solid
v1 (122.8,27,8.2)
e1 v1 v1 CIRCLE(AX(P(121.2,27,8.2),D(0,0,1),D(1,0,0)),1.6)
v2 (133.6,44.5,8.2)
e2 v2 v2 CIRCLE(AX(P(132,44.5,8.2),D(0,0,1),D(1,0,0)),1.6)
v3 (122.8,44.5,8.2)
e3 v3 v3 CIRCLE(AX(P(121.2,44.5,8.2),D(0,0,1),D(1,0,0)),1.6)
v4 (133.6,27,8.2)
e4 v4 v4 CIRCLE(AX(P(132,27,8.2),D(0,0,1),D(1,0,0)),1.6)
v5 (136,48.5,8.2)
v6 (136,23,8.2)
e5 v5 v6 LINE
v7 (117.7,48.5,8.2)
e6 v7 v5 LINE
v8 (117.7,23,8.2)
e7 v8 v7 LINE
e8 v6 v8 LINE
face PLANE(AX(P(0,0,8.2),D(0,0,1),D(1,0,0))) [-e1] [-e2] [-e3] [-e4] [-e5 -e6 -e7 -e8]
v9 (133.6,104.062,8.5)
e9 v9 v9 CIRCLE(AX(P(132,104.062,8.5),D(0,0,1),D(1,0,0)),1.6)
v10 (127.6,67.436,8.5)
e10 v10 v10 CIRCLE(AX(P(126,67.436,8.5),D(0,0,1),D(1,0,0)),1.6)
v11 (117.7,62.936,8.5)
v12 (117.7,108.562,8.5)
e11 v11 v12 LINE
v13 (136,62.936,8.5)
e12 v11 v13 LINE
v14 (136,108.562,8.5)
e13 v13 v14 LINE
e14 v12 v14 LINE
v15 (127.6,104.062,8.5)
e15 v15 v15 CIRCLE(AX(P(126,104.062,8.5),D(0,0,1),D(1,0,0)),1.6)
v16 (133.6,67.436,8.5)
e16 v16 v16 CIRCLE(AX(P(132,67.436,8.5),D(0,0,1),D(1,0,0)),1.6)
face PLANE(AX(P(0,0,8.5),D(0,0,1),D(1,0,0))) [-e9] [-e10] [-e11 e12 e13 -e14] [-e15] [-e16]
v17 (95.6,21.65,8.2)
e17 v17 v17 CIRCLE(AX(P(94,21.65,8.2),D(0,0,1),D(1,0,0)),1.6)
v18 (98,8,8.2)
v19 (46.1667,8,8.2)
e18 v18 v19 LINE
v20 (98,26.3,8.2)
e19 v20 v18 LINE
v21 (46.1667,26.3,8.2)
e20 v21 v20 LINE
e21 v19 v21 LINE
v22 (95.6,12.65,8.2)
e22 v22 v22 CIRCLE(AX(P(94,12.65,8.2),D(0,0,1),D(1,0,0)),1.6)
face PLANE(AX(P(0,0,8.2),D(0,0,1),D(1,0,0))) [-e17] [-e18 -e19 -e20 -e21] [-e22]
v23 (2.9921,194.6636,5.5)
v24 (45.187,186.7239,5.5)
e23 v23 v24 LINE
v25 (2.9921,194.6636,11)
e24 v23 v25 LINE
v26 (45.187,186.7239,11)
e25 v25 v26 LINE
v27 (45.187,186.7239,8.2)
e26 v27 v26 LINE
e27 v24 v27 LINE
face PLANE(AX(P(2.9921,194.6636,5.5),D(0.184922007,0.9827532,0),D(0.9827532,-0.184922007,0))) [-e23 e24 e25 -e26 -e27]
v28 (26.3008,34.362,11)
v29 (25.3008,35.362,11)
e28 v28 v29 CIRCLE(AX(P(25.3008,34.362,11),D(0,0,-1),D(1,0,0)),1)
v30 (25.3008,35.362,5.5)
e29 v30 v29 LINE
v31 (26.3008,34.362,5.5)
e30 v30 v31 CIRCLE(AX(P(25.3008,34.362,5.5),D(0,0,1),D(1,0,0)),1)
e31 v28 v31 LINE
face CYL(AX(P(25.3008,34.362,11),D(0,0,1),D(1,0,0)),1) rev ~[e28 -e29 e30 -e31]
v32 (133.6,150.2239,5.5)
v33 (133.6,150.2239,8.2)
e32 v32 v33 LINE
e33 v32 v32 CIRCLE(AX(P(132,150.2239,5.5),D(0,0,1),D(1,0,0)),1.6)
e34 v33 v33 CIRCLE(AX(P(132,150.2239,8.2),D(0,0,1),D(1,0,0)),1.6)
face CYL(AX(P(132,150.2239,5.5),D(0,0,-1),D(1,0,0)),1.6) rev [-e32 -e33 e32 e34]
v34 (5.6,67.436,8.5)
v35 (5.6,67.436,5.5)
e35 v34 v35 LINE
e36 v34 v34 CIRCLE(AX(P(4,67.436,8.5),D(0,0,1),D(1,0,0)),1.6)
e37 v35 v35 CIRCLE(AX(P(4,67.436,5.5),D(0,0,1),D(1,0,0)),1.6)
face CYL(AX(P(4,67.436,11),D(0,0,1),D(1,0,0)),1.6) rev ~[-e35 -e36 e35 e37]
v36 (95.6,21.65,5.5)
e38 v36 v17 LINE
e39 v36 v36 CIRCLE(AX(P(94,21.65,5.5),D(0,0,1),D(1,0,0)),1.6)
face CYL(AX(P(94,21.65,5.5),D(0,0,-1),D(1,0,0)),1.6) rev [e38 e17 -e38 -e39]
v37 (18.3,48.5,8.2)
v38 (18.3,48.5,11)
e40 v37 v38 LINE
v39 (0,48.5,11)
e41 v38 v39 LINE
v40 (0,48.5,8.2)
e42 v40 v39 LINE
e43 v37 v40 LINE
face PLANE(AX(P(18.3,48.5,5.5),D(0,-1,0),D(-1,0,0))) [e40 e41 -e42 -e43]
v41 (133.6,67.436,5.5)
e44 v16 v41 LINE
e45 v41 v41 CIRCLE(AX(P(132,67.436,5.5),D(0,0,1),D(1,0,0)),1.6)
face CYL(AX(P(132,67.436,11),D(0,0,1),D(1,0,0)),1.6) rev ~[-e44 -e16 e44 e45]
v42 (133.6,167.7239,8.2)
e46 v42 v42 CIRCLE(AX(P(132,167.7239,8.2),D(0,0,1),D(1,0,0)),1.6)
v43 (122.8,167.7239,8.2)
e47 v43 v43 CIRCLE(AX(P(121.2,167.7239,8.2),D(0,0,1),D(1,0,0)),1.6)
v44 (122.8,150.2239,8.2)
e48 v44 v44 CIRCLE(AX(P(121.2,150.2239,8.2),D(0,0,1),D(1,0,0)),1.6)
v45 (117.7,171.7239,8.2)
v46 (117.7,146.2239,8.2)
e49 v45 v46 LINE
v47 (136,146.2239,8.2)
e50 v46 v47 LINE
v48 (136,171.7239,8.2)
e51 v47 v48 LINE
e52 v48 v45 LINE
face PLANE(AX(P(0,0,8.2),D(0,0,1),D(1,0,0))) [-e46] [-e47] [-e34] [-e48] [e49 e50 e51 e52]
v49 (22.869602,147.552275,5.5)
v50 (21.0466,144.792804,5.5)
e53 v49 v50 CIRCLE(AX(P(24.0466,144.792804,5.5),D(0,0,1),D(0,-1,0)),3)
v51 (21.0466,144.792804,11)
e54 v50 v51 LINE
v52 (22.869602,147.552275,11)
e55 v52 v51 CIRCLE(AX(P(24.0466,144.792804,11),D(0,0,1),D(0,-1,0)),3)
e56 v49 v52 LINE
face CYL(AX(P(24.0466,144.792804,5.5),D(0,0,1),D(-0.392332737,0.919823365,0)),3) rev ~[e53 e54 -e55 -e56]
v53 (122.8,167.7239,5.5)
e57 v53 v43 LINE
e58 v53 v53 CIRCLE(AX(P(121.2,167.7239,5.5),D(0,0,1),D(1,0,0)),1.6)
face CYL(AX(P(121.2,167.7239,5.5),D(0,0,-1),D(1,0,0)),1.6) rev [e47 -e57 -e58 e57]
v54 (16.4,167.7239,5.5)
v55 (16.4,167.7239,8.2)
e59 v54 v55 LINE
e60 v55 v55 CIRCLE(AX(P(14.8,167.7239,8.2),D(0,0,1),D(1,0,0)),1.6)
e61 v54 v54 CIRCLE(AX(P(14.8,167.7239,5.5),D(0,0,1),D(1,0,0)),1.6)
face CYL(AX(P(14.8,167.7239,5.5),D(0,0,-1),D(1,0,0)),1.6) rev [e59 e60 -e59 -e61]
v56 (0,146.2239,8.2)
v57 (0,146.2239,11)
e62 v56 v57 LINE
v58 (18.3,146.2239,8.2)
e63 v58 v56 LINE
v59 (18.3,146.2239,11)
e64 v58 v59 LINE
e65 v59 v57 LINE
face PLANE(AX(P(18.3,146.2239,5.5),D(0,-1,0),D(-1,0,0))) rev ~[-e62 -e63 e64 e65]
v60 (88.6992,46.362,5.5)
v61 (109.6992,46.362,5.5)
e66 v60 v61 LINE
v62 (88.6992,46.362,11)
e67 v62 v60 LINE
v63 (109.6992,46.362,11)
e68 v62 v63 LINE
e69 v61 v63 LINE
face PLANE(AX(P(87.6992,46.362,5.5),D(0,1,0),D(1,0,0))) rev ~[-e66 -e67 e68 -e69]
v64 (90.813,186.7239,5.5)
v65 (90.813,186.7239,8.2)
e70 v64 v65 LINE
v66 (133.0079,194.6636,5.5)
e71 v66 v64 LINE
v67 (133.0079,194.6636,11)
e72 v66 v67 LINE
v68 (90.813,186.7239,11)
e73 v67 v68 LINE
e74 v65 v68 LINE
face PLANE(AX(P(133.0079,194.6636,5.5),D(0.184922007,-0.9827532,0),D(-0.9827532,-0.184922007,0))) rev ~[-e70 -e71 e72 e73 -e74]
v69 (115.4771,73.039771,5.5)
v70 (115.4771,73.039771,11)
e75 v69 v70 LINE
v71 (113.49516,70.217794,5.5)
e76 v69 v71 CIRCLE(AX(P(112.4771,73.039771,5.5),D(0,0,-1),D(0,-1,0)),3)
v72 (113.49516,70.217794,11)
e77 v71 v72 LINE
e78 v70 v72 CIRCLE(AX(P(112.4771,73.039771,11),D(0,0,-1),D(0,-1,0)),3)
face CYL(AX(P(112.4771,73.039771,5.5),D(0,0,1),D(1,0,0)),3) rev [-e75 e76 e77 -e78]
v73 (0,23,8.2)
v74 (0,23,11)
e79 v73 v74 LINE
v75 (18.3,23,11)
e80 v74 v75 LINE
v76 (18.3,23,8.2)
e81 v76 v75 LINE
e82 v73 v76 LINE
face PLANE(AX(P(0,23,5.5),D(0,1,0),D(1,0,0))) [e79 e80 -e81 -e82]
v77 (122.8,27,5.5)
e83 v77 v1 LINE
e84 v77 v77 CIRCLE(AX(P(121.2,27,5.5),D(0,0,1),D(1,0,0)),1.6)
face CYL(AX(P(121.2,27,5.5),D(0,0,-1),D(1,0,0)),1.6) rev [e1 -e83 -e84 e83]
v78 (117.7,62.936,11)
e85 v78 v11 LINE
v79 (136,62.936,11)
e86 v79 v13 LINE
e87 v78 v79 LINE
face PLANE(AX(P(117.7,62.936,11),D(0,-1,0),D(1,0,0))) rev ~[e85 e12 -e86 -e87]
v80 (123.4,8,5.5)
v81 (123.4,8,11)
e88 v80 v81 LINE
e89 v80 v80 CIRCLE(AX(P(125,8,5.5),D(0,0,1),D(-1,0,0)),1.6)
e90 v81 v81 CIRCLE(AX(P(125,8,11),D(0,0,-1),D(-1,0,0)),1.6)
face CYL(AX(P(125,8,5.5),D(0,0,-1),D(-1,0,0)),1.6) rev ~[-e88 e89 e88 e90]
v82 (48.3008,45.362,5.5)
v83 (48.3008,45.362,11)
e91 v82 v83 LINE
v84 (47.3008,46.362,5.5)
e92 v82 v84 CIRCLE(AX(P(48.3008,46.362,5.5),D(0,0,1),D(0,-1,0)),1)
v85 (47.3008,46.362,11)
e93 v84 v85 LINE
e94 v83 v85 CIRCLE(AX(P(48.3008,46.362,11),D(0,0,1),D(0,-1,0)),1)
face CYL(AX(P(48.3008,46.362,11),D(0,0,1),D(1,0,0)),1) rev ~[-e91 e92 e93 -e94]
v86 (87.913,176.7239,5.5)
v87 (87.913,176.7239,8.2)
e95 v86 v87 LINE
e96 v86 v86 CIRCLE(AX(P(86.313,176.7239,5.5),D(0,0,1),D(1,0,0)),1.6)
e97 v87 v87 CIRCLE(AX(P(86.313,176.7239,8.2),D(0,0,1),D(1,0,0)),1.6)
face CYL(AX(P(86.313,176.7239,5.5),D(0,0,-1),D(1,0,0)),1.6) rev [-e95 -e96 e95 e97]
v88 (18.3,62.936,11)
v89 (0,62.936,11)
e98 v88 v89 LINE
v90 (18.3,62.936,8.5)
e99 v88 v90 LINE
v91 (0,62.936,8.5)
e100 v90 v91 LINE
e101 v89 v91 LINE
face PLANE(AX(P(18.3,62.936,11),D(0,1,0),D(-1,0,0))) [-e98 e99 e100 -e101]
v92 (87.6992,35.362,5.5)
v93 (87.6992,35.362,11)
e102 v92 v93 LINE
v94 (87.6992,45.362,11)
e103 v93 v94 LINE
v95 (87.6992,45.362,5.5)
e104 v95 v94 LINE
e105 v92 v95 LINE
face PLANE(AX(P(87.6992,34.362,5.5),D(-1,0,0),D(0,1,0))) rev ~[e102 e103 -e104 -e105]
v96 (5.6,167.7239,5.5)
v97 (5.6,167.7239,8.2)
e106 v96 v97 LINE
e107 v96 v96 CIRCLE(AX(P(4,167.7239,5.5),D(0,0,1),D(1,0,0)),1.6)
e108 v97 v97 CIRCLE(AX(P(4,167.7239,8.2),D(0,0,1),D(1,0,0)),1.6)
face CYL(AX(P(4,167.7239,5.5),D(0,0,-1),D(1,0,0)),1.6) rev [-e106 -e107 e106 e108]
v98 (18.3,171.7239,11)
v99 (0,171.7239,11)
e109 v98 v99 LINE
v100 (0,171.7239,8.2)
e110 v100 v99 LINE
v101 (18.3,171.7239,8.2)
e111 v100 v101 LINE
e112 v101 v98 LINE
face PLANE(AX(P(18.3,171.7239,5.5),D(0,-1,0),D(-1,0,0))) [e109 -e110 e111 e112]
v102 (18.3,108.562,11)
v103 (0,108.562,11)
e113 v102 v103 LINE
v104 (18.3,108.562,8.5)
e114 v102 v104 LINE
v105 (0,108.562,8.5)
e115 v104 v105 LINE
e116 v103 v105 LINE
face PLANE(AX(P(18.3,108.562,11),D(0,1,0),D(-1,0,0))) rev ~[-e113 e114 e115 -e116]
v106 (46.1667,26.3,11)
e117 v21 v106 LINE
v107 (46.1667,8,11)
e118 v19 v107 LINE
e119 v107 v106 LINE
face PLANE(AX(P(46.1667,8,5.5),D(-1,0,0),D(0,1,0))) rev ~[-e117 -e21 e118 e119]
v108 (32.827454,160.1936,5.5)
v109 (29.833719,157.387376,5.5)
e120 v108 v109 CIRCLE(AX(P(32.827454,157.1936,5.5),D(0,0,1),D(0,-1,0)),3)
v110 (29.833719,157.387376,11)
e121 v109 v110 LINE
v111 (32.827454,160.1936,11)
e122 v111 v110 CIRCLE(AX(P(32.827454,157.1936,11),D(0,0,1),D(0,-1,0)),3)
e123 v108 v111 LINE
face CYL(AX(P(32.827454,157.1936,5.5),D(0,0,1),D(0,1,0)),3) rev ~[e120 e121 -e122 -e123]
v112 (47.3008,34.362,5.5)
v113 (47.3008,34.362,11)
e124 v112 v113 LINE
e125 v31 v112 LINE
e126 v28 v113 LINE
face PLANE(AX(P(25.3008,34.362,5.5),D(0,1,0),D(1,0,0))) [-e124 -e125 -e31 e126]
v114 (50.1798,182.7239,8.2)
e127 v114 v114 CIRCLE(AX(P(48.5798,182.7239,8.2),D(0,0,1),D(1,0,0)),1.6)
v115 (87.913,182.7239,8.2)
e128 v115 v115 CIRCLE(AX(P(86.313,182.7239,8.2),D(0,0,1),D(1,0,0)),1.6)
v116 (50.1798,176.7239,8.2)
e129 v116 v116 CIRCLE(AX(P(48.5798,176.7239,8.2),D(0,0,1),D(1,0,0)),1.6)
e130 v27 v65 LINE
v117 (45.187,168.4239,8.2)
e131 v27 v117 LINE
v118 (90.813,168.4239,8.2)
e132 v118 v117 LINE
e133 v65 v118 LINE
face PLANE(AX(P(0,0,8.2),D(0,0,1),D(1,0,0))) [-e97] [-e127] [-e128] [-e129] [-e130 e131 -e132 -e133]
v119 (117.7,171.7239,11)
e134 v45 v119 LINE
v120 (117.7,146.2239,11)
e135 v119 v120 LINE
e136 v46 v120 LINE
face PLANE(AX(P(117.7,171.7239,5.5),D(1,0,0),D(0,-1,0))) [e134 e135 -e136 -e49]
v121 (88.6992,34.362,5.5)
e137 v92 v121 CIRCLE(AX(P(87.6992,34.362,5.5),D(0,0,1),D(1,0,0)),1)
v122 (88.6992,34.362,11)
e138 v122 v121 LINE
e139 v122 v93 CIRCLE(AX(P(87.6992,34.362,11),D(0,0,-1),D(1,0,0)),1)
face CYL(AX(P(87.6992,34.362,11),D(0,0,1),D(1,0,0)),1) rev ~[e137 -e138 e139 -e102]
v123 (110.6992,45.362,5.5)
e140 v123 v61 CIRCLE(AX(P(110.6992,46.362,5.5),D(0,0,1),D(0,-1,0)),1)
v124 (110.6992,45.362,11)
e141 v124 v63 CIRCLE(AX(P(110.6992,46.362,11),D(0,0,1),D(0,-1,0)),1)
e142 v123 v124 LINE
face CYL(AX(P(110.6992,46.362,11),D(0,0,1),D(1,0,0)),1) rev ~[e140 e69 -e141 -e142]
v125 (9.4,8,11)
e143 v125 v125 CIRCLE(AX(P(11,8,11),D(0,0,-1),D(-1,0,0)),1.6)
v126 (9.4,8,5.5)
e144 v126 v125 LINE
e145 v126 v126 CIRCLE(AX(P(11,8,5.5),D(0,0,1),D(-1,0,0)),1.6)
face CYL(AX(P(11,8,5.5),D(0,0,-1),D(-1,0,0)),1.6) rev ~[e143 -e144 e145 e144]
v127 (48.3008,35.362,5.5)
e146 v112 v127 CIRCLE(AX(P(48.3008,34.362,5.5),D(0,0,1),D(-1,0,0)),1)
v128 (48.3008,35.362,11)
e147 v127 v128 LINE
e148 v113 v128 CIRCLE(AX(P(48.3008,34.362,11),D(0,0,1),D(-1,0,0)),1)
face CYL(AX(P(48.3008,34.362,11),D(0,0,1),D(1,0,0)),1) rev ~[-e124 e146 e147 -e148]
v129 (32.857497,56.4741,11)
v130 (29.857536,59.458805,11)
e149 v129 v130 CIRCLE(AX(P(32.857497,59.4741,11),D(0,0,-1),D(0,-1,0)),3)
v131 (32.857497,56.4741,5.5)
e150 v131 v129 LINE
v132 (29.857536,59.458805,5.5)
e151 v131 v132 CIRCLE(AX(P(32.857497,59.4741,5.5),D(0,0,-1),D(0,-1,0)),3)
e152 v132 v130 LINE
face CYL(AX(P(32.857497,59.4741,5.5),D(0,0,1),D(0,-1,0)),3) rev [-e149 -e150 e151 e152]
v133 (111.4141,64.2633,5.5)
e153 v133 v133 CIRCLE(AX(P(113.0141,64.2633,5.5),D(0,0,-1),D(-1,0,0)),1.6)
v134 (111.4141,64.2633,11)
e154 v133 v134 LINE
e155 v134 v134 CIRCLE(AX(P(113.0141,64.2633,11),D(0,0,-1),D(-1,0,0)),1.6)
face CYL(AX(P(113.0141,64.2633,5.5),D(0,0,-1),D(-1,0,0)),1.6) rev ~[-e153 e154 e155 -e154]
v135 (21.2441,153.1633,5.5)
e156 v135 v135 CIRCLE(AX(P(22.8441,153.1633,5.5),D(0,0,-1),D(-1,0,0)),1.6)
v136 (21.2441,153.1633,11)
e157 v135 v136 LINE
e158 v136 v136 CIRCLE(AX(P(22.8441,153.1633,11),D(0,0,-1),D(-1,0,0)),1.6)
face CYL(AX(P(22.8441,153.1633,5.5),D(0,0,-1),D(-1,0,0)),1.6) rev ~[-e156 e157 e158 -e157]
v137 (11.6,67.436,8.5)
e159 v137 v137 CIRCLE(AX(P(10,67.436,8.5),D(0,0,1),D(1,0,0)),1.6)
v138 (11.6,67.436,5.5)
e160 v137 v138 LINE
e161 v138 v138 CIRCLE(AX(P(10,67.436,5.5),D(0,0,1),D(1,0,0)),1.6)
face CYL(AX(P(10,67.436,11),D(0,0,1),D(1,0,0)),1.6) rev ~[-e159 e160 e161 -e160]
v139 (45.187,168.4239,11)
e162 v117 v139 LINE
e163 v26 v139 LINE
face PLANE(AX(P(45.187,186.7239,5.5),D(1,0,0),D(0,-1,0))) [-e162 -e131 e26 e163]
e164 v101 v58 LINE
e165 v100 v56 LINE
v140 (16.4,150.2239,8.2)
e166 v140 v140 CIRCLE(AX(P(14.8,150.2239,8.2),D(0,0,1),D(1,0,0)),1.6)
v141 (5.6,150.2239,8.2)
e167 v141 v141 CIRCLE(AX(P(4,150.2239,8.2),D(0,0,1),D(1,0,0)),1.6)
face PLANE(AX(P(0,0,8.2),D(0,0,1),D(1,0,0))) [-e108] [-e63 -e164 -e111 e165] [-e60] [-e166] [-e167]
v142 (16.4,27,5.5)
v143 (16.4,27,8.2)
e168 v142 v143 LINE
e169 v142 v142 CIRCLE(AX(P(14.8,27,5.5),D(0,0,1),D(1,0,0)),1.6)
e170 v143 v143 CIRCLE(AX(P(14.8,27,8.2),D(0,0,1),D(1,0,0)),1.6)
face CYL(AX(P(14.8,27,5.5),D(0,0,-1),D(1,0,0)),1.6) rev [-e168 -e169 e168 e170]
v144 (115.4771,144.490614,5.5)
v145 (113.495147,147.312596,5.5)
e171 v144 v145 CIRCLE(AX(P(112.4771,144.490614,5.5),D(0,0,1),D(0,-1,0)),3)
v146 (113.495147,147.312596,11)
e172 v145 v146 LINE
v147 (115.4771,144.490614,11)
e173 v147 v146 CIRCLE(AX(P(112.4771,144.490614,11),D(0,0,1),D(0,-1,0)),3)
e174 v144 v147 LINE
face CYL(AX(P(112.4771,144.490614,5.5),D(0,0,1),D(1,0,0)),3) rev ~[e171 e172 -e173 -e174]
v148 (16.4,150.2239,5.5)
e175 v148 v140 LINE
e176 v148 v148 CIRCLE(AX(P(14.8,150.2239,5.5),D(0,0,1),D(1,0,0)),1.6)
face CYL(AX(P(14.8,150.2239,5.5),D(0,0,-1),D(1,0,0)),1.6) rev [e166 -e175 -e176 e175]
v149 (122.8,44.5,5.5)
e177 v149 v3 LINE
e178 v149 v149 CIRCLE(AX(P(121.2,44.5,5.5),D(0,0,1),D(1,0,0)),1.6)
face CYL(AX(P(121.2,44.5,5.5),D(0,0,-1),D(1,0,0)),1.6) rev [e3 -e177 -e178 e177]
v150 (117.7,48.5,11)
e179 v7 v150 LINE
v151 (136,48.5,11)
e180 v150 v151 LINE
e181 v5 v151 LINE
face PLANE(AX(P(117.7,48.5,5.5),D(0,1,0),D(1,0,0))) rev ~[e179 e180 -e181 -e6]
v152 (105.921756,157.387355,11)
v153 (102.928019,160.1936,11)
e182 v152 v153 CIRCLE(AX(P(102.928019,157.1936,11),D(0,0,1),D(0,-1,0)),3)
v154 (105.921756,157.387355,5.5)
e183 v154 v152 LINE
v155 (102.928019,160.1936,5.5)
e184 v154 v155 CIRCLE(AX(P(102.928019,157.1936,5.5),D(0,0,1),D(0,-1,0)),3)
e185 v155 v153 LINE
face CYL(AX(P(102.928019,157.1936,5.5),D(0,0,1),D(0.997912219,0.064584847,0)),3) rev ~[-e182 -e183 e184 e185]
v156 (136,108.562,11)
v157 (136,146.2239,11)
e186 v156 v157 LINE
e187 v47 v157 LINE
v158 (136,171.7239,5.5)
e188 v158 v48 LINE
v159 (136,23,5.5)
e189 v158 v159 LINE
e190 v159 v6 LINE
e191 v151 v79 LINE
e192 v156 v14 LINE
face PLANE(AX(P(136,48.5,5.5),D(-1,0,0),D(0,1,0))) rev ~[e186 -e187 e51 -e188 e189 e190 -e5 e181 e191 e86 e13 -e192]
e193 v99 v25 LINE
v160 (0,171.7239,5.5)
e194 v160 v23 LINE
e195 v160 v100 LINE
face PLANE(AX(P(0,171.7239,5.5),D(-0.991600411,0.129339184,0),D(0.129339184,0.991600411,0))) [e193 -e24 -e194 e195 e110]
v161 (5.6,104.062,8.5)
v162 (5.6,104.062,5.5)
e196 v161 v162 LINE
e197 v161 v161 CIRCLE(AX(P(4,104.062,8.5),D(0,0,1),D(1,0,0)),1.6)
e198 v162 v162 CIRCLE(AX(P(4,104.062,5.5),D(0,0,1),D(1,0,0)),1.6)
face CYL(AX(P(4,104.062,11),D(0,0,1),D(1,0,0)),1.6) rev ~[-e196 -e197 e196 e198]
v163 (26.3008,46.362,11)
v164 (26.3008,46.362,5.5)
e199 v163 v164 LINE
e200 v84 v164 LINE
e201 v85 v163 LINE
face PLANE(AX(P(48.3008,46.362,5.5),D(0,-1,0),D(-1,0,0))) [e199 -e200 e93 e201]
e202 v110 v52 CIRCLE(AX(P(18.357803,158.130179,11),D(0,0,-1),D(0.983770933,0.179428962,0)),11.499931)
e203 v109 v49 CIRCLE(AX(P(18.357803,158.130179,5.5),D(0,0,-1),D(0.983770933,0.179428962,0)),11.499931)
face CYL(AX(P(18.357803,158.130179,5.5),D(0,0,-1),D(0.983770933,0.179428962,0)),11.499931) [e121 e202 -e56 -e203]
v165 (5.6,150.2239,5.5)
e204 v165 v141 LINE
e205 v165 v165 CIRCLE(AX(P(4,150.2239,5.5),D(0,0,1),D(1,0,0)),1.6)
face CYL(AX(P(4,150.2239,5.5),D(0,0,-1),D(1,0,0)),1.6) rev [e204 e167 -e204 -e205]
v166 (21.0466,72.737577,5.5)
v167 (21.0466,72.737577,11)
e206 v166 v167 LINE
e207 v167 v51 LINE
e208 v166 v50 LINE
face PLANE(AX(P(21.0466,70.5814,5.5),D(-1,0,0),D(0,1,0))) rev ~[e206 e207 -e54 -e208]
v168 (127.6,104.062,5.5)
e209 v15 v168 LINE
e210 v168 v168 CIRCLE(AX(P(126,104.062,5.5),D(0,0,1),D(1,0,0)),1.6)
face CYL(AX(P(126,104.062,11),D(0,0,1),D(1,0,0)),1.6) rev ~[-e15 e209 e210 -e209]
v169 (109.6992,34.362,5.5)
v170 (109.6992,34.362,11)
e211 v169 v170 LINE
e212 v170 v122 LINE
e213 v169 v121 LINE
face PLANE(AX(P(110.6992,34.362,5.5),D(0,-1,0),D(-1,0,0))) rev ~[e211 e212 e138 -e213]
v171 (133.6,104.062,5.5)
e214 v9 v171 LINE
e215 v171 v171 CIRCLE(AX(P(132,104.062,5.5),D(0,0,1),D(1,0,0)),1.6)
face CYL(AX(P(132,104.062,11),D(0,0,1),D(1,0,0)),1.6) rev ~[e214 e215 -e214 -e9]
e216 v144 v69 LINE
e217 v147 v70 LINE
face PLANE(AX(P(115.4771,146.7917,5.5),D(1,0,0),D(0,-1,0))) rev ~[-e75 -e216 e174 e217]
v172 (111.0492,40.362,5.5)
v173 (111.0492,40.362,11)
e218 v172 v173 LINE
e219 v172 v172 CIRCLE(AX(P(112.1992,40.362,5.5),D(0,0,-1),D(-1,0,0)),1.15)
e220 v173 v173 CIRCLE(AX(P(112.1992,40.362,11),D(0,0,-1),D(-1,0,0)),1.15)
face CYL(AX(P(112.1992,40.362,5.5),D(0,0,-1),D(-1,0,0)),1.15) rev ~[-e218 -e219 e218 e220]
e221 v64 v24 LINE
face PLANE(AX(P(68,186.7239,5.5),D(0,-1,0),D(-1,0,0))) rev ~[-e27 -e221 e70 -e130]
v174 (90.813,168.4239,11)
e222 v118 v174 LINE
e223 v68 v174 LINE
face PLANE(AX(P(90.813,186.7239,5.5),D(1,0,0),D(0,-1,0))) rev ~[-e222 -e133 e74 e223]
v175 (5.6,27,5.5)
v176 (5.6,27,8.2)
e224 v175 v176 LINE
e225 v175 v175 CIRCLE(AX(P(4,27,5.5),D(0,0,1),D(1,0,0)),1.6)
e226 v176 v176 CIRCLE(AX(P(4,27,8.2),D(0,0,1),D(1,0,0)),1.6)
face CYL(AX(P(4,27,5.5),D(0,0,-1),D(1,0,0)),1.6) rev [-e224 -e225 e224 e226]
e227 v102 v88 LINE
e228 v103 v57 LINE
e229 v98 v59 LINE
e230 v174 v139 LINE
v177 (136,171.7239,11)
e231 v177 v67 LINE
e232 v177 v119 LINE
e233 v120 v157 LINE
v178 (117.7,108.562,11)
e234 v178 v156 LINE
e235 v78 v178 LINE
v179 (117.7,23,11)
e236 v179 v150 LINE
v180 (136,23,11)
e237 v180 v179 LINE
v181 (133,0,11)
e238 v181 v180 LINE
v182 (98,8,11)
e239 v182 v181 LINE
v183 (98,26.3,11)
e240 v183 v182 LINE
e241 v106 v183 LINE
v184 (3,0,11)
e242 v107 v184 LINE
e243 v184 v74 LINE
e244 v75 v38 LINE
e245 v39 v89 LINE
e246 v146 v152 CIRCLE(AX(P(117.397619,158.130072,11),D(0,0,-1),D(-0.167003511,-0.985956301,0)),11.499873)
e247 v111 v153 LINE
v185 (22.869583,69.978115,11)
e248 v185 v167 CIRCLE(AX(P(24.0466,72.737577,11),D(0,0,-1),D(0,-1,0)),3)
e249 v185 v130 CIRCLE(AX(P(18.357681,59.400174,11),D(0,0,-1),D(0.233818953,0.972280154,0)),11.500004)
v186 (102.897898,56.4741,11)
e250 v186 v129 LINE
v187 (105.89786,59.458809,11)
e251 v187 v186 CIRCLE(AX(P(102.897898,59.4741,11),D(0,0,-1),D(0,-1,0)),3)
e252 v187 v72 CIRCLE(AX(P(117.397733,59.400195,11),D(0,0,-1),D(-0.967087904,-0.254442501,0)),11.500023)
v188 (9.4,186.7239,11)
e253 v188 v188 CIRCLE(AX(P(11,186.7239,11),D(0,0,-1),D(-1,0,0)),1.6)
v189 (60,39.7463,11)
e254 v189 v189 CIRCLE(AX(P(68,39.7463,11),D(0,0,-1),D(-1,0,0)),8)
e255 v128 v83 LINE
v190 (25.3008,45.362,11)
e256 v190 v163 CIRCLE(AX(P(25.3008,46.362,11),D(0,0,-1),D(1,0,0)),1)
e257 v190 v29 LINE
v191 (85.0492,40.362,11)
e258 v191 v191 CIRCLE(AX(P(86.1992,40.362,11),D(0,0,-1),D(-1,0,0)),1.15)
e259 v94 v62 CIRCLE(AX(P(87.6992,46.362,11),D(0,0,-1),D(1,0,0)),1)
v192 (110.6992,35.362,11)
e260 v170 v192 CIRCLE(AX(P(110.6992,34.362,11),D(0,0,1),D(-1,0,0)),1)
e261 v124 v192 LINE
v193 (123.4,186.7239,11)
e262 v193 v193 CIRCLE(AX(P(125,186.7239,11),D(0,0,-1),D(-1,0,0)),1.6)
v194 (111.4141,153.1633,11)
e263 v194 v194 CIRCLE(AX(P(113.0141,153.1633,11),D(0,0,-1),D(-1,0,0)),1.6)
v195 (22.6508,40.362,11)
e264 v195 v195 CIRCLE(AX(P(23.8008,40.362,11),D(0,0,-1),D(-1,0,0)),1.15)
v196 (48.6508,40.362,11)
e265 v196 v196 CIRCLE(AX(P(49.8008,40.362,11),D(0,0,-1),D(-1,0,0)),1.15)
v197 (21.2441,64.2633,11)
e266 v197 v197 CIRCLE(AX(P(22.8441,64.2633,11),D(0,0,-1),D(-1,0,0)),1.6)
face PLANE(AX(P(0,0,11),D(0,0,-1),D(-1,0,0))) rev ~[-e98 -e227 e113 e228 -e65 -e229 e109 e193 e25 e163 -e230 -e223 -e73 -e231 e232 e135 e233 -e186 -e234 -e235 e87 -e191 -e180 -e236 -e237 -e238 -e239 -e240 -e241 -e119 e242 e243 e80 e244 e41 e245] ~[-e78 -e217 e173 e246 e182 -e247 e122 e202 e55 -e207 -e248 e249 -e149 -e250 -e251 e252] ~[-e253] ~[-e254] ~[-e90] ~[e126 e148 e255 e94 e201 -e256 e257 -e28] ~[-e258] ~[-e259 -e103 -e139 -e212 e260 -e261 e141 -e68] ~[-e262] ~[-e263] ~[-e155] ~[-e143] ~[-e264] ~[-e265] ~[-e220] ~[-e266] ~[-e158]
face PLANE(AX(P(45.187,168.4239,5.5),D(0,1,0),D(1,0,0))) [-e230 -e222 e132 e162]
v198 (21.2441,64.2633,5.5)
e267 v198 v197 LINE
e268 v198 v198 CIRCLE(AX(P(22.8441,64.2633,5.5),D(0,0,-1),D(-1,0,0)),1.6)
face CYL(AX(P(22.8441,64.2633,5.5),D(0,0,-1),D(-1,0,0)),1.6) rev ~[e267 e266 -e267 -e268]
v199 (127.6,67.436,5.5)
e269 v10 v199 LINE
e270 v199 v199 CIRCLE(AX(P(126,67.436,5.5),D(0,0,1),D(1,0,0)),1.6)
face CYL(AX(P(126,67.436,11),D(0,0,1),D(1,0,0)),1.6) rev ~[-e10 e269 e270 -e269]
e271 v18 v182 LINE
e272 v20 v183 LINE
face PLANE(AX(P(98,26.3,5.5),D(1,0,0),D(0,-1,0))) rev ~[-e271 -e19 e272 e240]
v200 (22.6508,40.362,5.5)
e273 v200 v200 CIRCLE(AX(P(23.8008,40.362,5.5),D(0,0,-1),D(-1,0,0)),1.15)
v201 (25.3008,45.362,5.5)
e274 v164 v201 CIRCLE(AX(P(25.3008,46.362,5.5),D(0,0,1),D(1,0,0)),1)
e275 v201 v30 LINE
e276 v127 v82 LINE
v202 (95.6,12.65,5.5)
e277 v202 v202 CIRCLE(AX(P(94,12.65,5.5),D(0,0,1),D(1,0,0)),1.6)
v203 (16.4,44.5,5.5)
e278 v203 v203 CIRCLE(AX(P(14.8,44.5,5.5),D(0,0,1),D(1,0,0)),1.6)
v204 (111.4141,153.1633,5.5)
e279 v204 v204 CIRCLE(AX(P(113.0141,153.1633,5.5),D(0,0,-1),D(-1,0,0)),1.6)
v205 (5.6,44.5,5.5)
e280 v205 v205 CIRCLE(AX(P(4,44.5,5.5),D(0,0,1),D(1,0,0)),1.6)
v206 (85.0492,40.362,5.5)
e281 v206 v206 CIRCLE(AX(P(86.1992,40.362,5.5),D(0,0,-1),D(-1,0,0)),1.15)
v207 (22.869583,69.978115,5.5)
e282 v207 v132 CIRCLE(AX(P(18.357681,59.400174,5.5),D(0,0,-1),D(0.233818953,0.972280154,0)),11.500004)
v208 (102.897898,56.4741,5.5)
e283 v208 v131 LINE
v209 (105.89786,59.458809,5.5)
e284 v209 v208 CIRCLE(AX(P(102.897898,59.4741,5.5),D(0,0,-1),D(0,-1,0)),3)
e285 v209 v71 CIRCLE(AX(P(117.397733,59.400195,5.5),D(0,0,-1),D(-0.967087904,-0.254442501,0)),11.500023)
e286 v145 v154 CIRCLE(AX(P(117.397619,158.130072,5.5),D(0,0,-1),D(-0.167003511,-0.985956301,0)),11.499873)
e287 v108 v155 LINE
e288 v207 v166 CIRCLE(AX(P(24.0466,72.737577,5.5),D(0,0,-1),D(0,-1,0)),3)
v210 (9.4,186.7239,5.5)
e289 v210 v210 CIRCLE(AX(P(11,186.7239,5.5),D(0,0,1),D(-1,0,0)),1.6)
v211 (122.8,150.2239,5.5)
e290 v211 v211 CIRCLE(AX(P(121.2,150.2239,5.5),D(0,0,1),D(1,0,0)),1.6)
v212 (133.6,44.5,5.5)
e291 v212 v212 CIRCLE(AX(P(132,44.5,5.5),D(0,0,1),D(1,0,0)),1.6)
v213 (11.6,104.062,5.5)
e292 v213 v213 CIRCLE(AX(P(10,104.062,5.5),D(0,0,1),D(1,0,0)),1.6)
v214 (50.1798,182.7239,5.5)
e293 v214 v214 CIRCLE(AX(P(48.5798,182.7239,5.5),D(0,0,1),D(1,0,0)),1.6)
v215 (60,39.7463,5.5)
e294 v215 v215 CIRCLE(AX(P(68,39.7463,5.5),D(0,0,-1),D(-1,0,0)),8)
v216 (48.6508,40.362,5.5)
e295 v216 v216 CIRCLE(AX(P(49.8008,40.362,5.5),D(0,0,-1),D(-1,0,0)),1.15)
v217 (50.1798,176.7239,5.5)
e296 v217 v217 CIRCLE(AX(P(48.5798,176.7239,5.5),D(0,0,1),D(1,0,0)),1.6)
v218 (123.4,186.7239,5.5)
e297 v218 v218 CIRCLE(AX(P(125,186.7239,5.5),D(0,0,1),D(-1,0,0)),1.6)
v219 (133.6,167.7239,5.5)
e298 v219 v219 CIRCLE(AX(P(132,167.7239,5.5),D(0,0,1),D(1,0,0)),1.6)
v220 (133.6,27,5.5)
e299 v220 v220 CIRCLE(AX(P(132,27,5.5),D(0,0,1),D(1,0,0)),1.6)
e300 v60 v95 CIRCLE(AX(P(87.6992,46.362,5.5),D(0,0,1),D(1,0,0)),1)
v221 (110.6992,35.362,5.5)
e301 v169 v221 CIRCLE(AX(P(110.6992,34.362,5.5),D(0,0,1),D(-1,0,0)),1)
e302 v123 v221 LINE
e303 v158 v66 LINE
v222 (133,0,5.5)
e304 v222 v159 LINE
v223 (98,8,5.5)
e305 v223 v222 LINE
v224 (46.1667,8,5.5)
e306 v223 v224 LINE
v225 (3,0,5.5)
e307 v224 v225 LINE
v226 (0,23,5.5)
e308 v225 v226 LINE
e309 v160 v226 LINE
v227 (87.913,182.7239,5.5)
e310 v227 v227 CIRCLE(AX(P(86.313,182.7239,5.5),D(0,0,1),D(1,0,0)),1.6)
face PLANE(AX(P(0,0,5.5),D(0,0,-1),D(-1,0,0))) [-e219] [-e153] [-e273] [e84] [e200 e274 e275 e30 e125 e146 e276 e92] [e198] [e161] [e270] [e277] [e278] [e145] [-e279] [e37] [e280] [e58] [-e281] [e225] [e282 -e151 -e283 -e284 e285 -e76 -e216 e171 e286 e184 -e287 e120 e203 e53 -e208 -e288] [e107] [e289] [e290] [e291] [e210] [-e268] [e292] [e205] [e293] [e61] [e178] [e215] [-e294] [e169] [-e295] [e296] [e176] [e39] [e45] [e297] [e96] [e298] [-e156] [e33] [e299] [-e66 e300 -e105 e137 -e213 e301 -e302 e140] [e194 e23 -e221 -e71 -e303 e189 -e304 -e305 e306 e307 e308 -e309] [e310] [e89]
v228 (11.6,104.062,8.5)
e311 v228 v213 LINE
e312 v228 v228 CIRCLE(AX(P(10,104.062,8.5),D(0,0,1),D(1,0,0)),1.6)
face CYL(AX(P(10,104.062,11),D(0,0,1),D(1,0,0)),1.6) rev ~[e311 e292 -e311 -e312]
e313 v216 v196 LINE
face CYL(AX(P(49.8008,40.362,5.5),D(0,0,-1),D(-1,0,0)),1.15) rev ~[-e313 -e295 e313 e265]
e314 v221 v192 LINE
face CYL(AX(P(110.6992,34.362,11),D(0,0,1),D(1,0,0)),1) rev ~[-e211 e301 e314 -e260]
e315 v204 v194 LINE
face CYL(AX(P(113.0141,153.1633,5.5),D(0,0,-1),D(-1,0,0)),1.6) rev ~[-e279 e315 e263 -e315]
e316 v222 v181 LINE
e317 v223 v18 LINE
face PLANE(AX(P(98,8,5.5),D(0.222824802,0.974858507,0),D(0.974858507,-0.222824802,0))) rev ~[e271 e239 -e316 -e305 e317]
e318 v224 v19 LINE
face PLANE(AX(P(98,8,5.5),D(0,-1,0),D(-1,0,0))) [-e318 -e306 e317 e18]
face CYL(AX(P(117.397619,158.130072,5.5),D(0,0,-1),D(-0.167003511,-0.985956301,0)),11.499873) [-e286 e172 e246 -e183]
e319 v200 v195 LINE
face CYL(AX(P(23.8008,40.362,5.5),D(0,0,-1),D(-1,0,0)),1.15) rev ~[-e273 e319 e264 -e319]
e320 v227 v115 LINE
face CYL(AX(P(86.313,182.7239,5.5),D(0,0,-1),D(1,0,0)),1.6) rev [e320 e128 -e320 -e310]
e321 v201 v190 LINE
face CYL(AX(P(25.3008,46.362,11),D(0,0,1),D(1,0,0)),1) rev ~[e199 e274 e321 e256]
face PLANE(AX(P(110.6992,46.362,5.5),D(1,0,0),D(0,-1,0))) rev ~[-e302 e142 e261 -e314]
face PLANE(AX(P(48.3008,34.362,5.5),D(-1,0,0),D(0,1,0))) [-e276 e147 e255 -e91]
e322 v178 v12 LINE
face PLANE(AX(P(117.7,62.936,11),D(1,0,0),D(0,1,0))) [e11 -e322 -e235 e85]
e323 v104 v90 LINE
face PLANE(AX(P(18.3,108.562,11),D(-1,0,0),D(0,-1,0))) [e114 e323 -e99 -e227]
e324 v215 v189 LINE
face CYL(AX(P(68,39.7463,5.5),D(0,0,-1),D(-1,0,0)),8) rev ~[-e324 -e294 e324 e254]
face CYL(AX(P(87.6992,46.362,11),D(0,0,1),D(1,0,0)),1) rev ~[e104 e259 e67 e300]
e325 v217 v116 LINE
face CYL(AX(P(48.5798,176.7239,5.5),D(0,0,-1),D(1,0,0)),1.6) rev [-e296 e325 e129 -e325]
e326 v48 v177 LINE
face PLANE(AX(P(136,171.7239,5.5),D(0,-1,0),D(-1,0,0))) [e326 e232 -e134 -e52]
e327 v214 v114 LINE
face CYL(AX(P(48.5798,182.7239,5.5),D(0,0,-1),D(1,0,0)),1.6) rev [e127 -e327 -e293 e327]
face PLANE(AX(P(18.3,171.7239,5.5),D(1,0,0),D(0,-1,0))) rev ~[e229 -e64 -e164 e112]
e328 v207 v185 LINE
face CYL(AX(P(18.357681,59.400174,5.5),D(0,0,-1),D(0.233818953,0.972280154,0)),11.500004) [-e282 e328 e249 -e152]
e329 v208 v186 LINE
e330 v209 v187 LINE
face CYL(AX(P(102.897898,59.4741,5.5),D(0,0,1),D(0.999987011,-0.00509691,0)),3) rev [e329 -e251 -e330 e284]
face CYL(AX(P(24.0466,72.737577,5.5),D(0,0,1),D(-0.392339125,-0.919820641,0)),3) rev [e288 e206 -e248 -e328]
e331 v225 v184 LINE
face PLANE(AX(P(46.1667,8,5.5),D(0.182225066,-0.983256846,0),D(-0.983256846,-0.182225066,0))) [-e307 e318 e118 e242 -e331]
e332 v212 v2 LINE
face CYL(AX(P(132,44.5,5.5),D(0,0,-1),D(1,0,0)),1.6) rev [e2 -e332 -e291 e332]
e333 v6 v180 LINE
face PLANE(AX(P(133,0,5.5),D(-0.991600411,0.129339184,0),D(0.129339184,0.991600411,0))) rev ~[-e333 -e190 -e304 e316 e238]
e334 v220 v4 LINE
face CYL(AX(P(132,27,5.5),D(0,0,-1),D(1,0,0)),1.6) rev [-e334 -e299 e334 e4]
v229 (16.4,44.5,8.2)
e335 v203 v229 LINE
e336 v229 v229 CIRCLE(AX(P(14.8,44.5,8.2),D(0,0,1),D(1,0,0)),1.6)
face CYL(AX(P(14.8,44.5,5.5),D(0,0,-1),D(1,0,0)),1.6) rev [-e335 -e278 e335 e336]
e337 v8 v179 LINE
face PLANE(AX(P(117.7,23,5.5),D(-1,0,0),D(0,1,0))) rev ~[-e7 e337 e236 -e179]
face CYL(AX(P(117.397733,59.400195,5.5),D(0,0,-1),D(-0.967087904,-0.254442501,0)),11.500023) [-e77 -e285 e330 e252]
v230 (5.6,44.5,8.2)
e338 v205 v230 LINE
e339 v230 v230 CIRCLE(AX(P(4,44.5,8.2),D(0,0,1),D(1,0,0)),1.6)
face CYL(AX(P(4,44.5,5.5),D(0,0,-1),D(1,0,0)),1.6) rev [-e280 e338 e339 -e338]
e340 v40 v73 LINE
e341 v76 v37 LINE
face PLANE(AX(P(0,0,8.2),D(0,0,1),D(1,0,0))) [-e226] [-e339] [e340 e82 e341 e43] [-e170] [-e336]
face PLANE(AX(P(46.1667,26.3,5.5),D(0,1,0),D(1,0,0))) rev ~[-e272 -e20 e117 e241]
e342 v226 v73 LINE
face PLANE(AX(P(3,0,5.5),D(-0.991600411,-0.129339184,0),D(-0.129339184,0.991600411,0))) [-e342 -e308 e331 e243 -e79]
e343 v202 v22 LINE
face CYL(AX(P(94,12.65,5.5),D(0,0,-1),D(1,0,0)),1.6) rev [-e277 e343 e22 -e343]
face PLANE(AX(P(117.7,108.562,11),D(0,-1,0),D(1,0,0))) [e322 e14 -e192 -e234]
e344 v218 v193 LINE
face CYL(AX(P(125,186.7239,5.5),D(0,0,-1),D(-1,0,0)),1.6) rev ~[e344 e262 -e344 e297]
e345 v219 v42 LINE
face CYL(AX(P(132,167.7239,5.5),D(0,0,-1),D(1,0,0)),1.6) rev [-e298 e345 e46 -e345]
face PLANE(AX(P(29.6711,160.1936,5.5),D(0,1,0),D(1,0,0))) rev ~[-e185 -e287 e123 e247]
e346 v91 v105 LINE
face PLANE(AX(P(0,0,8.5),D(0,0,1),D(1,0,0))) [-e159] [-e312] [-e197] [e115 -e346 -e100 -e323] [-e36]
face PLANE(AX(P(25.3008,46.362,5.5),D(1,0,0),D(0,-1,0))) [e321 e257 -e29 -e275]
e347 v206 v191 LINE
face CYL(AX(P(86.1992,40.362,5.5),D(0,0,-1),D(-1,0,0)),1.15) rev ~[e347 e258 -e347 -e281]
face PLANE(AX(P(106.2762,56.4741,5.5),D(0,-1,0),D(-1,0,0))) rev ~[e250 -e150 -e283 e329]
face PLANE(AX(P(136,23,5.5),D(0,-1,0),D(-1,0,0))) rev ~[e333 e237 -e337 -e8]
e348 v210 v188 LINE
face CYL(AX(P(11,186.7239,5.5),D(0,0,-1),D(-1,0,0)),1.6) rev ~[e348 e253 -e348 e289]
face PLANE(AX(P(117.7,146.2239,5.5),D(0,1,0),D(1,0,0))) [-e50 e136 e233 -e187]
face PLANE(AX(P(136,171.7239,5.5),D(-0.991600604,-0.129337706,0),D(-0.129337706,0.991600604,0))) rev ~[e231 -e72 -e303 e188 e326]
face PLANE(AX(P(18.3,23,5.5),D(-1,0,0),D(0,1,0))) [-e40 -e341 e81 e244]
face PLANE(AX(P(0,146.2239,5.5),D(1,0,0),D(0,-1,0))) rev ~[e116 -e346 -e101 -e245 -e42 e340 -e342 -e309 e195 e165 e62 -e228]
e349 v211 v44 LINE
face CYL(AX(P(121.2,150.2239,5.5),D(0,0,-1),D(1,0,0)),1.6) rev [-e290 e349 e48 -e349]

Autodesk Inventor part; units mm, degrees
ref_plane "YZ Plane" through (0, 0, 0) normal (1, 0, 0) x (0, 1, 0)
ref_plane "XZ Plane" through (0, 0, 0) normal (0, 1, 0) x (-1, 0, 0)
ref_plane "XY Plane" through (0, 0, 0) normal (0, 0, 1) x (1, 0, 0)
ref_plane "作業平面1" through (0, 0, 5.5) normal (0, 0, 1) x (1, 0, 0)
sketch "スケッチ3" plane through (0, 0, 5.5) normal (0, 0, 1) x (1, 0, 0)
  line L0 (0, 171.7239) -> (0, 23)
  line L1 (0, 23) -> (3, 0)
  line L2 (136, 23) -> (136, 171.7239)
  line L3 (136, 171.7239) -> (133.0079, 194.6636)
  line L4 (0, 23) -> (0, 75)
  line L5 (0, 127.7239) -> (0, 171.7239)
  line L6 (136, 171.7239) -> (136, 119.7239)
  line L7 (136, 67) -> (136, 23)
  circle A0 centre (11, 186.7239) radius 1.6
  circle A1 centre (125, 186.7239) radius 1.6
  circle A2 centre (11, 8) radius 1.6
  circle A3 centre (125, 8) radius 1.6
  line L8 (6.4, 186.7239) -> (15.6, 186.7239)
  line L9 (11, 182.1239) -> (11, 191.3239)
  line L10 (120.4, 186.7239) -> (129.6, 186.7239)
  line L11 (125, 182.1239) -> (125, 191.3239)
  line L12 (6.4, 8) -> (15.6, 8)
  line L13 (11, 3.4) -> (11, 12.6)
  line L14 (120.4, 8) -> (129.6, 8)
  line L15 (0, 127.7239) -> (0, 171.7239)
  line L16 (136, 171.7239) -> (136, 119.7239)
  line L17 (136, 67) -> (136, 23)
  line L18 (0, 23) -> (0, 75)
  line L19 (133, 0) -> (136, 23)
  line L20 (136, 46) -> (136, 23)
  line L21 (136, 23) -> (117.7, 23)
  line L22 (117.7, 23) -> (117.7, 48.5)
  line L23 (117.7, 48.5) -> (136, 48.5)
  line L24 (136, 48.5) -> (136, 23)
  line L25 (0, 23) -> (18.3, 23)
  line L26 (18.3, 23) -> (18.3, 48.5)
  line L27 (18.3, 48.5) -> (0, 48.5)
  line L28 (0, 48.5) -> (0, 23)
  line L29 (136, 171.7239) -> (117.7, 171.7239)
  line L30 (117.7, 171.7239) -> (117.7, 146.2239)
  line L31 (117.7, 146.2239) -> (136, 146.2239)
  line L32 (136, 146.2239) -> (136, 171.7239)
  line L33 (0, 171.7239) -> (18.3, 171.7239)
  line L34 (18.3, 171.7239) -> (18.3, 146.2239)
  line L35 (18.3, 146.2239) -> (0, 146.2239)
  line L36 (0, 146.2239) -> (0, 171.7239)
  circle A4 centre (132, 27) radius 1.6
  circle A5 centre (121.2, 27) radius 1.6
  circle A6 centre (132, 44.5) radius 1.6
  circle A7 centre (121.2, 44.5) radius 1.6
  circle A8 centre (132, 150.2239) radius 1.6
  circle A9 centre (132, 167.7239) radius 1.6
  circle A10 centre (121.2, 150.2239) radius 1.6
  circle A11 centre (121.2, 167.7239) radius 1.6
  circle A12 centre (14.8, 27) radius 1.6
  circle A13 centre (4, 27) radius 1.6
  circle A14 centre (14.8, 44.5) radius 1.6
  circle A15 centre (4, 44.5) radius 1.6
  circle A16 centre (14.8, 150.2239) radius 1.6
  circle A17 centre (4, 150.2239) radius 1.6
  circle A18 centre (14.8, 167.7239) radius 1.6
  circle A19 centre (4, 167.7239) radius 1.6
  line L37 (98, 8) -> (133, 0)
  line L38 (46.1667, 8) -> (3, 0)
  line L39 (98, 8) -> (46.1667, 8)
  line L40 (46.1667, 8) -> (46.1667, 26.3)
  line L41 (46.1667, 26.3) -> (98, 26.3)
  line L42 (98, 26.3) -> (98, 8)
  circle A20 centre (94, 12.65) radius 1.6
  circle A21 centre (94, 21.65) radius 1.6
  line L43 (68, 186.7239) -> (90.813, 186.7239)
  line L44 (90.813, 186.7239) -> (90.813, 168.4239)
  line L45 (90.813, 168.4239) -> (68, 168.4239)
  line L46 (133.0079, 194.6636) -> (90.813, 186.7239)
  line L47 (0, 171.7239) -> (2.9921, 194.6636)
  line L48 (68, 186.7239) -> (45.187, 186.7239)
  line L49 (45.187, 186.7239) -> (45.187, 168.4239)
  line L50 (45.187, 168.4239) -> (68, 168.4239)
  line L51 (2.9921, 194.6636) -> (45.187, 186.7239)
  circle A22 centre (86.313, 182.7239) radius 1.6
  circle A23 centre (48.5798, 182.7239) radius 1.6
  circle A24 centre (86.313, 176.7239) radius 1.6
  circle A25 centre (48.5798, 176.7239) radius 1.6
  point P0 (0, 0)
  point P1 (0, 179.7239)
  dimension "d134" = 18.3
  dimension "d137" = 3.2
  dimension "d139" = 3.2
  dimension "d196" = 22.813
  dimension "d197" = 18.3
  dimension "d198" = 3.2
  dimension "d199" = 4.5
  dimension "d200" = 4
  dimension "d201" = 3.2
  dimension "d202" = 3.2
  dimension "d203" = 10
  dimension "d204" = 3.2
ref_plane "作業平面6" through (0, 0, 5.5) normal (0, 0, 1) x (1, 0, 0)
ref_plane "作業平面7" through (0, 0, 5.5) normal (0, 0, -1) x (-1, 0, 0)
sketch "スケッチ9" plane through (0, 0, 5.5) normal (0, 0, -1) x (-1, 0, 0)
  line L0 (0, 146.2239) -> (0, 48.5)
  line L1 (0, 48.5) -> (0, 75)
  line L2 (0, 127.7239) -> (0, 146.2239)
  line L3 (0, 127.7239) -> (0, 146.2239)
  line L4 (0, 48.5) -> (0, 75)
  line L5 (-136, 171.7239) -> (-133.0079, 194.6636)
  circle A0 centre (-11, 186.7239) radius 1.6
  circle A1 centre (-125, 186.7239) radius 1.6
  circle A2 centre (-11, 8) radius 1.6
  circle A3 centre (-125, 8) radius 1.6
  line L6 (-6.4, 186.7239) -> (-15.6, 186.7239)
  line L7 (-11, 182.1239) -> (-11, 191.3239)
  line L8 (-120.4, 186.7239) -> (-129.6, 186.7239)
  line L9 (-125, 182.1239) -> (-125, 191.3239)
  line L10 (-6.4, 8) -> (-15.6, 8)
  line L11 (-11, 3.4) -> (-11, 12.6)
  line L12 (-120.4, 8) -> (-129.6, 8)
  line L13 (-133, 0) -> (-136, 23)
  line L14 (-136, 23) -> (-117.7, 23)
  line L15 (-117.7, 23) -> (-117.7, 48.5)
  line L16 (-117.7, 48.5) -> (-136, 48.5)
  line L17 (0, 23) -> (-18.3, 23)
  line L18 (-18.3, 23) -> (-18.3, 48.5)
  line L19 (-18.3, 48.5) -> (0, 48.5)
  line L20 (-117.7, 171.7239) -> (-117.7, 146.2239)
  line L21 (-117.7, 146.2239) -> (-136, 146.2239)
  circle A4 centre (-132, 27) radius 1.6
  circle A5 centre (-121.2, 27) radius 1.6
  circle A6 centre (-132, 44.5) radius 1.6
  circle A7 centre (-121.2, 44.5) radius 1.6
  circle A8 centre (-132, 150.2239) radius 1.6
  circle A9 centre (-132, 167.7239) radius 1.6
  circle A10 centre (-121.2, 150.2239) radius 1.6
  circle A11 centre (-121.2, 167.7239) radius 1.6
  circle A12 centre (-14.8, 27) radius 1.6
  circle A13 centre (-4, 27) radius 1.6
  circle A14 centre (-14.8, 44.5) radius 1.6
  circle A15 centre (-4, 44.5) radius 1.6
  line L22 (-98, 8) -> (-133, 0)
  line L23 (-46.1667, 8) -> (-3, 0)
  line L24 (-46.1667, 26.3) -> (-98, 26.3)
  line L25 (-98, 26.3) -> (-98, 8)
  circle A16 centre (-94, 12.65) radius 1.6
  circle A17 centre (-94, 21.65) radius 1.6
  circle A18 centre (-4, 150.2239) radius 1.6
  circle A19 centre (-14.8, 150.2239) radius 1.6
  circle A20 centre (-4, 167.7239) radius 1.6
  circle A21 centre (-14.8, 167.7239) radius 1.6
  line L26 (0, 0) -> (0, 23) construction
  line L27 (-136, 171.7239) -> (-117.7, 171.7239) projected
  line L28 (-117.7, 171.7239) -> (-136, 171.7239)
  line L29 (0, 48.5) -> (0, 146.2239) construction
  line L30 (0, 171.7239) -> (0, 236.1886) construction
  line L31 (0, 171.7239) -> (-3, 194.7239)
  line L32 (-18.3, 146.2239) -> (0, 146.2239)
  line L33 (-18.3, 171.7239) -> (-18.3, 146.2239)
  line L34 (-18.3, 146.2239) -> (0, 146.2239)
  line L35 (-18.3, 171.7239) -> (0, 171.7239) projected
  line L36 (0, 171.7239) -> (-18.3, 171.7239)
  line L37 (-136, 48.5) -> (-136, 146.2239)
  line L38 (-46.1667, 8) -> (-46.1667, 26.3)
  line L39 (0, 23) -> (-18.3, 23) projected
  line L40 (-3, 0) -> (0, 23)
  line L41 (-133.0079, 194.6636) -> (-90.813, 186.7239) projected
  line L42 (-136, 171.7239) -> (-133.0079, 194.6636) projected
  line L43 (-68, 186.7239) -> (-90.813, 186.7239) projected
  line L44 (-90.813, 186.7239) -> (-90.813, 168.4239) projected
  circle A22 centre (-86.313, 182.7239) radius 1.6 projected
  circle A23 centre (-86.313, 176.7239) radius 1.6 projected
  line L45 (-90.813, 168.4239) -> (-68, 168.4239) projected
  line L46 (-45.187, 168.4239) -> (-68, 168.4239) projected
  line L47 (-45.187, 186.7239) -> (-45.187, 168.4239) projected
  circle A24 centre (-48.5798, 176.7239) radius 1.6 projected
  circle A25 centre (-48.5798, 182.7239) radius 1.6 projected
  line L48 (-68, 186.7239) -> (-45.187, 186.7239) projected
  line L49 (-2.9921, 194.6636) -> (-45.187, 186.7239) projected
  line L50 (0, 171.7239) -> (-2.9921, 194.6636) projected
  point P0 (0, 179.7239)
  point P1 (-90.1667, 186.7239)
  point P2 (-42, 173.0739)
  point P3 (-42, 182.0739)
  dimension "d150" = 3.2
  dimension "d151" = 3.2
  dimension "d152" = 3.2
  dimension "d153" = 3.2
extrude "押し出し9" add sketch "スケッチ9" against normal blind 5.5 contours L0 L19 L18 L17 L40 L23 L38 L24 L25 L22 L13 L14 L15 L16 L37 L21 L20 L27 L5 L41 L44 L45 L46 L47 L49 L31 L35 L33 L32
ref_plane "作業平面8" through (0, 0, 5.5) normal (0, 0, -1) x (-1, 0, 0)
sketch "スケッチ10" plane through (0, 0, 5.5) normal (0, 0, -1) x (-1, 0, 0)
  line L0 (0, 0) -> (0, 225.6064) construction
  line L1 (-115.4771, 146.7917) -> (-115.4771, 70.7387)
  line L2 (-21.0466, 70.5814) -> (-21.0466, 146.949)
  circle A0 centre (-22.8441, 153.1633) radius 1.6
  arc A1 (-29.6711, 160.1936) -> (-21.0466, 146.949) centre (-18.3577, 158.1302) ccw
  line L3 (-29.6711, 160.1936) -> (-106.0844, 160.1936)
  circle A2 centre (-113.0141, 153.1633) radius 1.6
  arc A3 (-115.4771, 146.7917) -> (-106.0844, 160.1936) centre (-117.3977, 158.1302) ccw
  circle A4 centre (-113.0141, 64.2633) radius 1.6
  arc A5 (-106.2762, 56.4741) -> (-115.4771, 70.7387) centre (-117.3977, 59.4002) ccw
  line L4 (-106.2762, 56.4741) -> (-29.4792, 56.4741)
  circle A6 centre (-22.8441, 64.2633) radius 1.6
  arc A7 (-21.0466, 70.5814) -> (-29.4792, 56.4741) centre (-18.3577, 59.4002) ccw
  circle A8 centre (-68, 39.7463) radius 8
  circle A9 centre (-112.1992, 40.362) radius 1.15
  line L5 (-87.6992, 46.362) -> (-110.6992, 46.362)
  line L6 (-110.6992, 46.362) -> (-110.6992, 34.362)
  circle A10 centre (-86.1992, 40.362) radius 1.15
  line L7 (-110.6992, 34.362) -> (-87.6992, 34.362)
  line L8 (-87.6992, 34.362) -> (-87.6992, 46.362)
  circle A11 centre (-49.8008, 40.362) radius 1.15
  line L9 (-48.3008, 34.362) -> (-48.3008, 46.362)
  line L10 (-48.3008, 46.362) -> (-25.3008, 46.362)
  line L11 (-25.3008, 34.362) -> (-48.3008, 34.362)
  line L12 (-25.3008, 46.362) -> (-25.3008, 34.362)
  circle A12 centre (-23.8008, 40.362) radius 1.15
  point P0 (-117.7, 161.7899)
  point P1 (-18.0035, 58.8386)
  point P2 (-68, 87.4279)
  point P3 (-67.8777, 108.7652)
extrude "押し出し10" cut sketch "スケッチ10" against normal blind 5.5
sketch "スケッチ13" plane through (0, 0, 11) normal (0, 0, 1) x (1, 0, 0)
  line L0 (117.7, 62.936) -> (117.7, 108.562)
  line L1 (117.7, 62.936) -> (136, 62.936)
  line L2 (136, 108.562) -> (136, 62.936)
  line L3 (117.7, 108.562) -> (136, 108.562)
  line L4 (18.3, 108.562) -> (18.3, 62.936)
  line L5 (18.3, 108.562) -> (0, 108.562)
  line L6 (0, 62.936) -> (0, 108.562)
  line L7 (18.3, 62.936) -> (0, 62.936)
  line L8 (136, 48.5) -> (136, 146.2239) projected
  line L9 (136, 58.9751) -> (136, 64.08)
  point P0 (120.6031, 62.936)
  point P1 (244.1196, 130.8174)
  point P2 (0, 62.936)
  point P3 (15.3969, 108.562)
  dimension "d207" = 45.626
  dimension "d212" = 0
  dimension "d226" = 18.3
extrude "押し出し13" cut sketch "スケッチ13" against normal blind 2.5
sketch "スケッチ14" plane through (132, 67.436, 11) normal (0, 0, 1) x (1, 0, 0)
  circle A0 centre (-128, 36.626) radius 1.6
  circle A1 centre (-122, 36.626) radius 1.6
  circle A2 centre (-128, 0) radius 1.6
  circle A3 centre (-122, 0) radius 1.6
  circle A4 centre (-6, 36.626) radius 1.6
  circle A5 centre (0, 36.626) radius 1.6
  circle A6 centre (-6, 0) radius 1.6
  circle A7 centre (0, 0) radius 1.6
  circle A8 centre (-6, 0) radius 1.6423 projected
  point P0 (-132.5, -84.3342)
extrude "押し出し14" cut sketch "スケッチ14" against normal blind 5.5 contours A0 | A1 | A2 | A3 | A4 | A5 | A6 | A7
extrude "押し出し15" add sketch "スケッチ3" along normal blind 2.7 contours L33 L34 L35 L0 | L48 L43 L44 L45 L50 L49 | L27 L26 L25 L0 | L2 L31 L30 L29 | L40 L41 L42 L39 | L21 L22 L23 L2
fillet "フィレット1" radius 3 8 edges at (29.6711, 160.1936, 8.25) (21.0466, 146.949, 8.25) (21.0466, 70.5814, 8.25) (29.4792, 56.4741, 8.25) (115.4771, 70.7387, 8.25) (106.2762, 56.4741, 8.25) (106.0844, 160.1936, 8.25) (115.4771, 146.7917, 8.25)
sketch "スケッチ15" plane through (0, 0, 11) normal (0, 0, 1) x (1, 0, 0)
  line L0 (25.3008, 46.362) -> (25.3008, 34.362) projected
  circle A0 centre (25.3008, 34.362) radius 1
  circle A1 centre (25.3008, 46.362) radius 1
  line L1 (48.3008, 46.362) -> (48.3008, 34.362) projected
  circle A2 centre (48.3008, 34.362) radius 1
  circle A3 centre (48.3008, 46.362) radius 1
  line L2 (87.6992, 34.362) -> (87.6992, 46.362) projected
  circle A4 centre (87.6992, 46.362) radius 1
  circle A5 centre (87.6992, 34.362) radius 1
  line L3 (110.6992, 34.362) -> (87.6992, 34.362) projected
  circle A6 centre (110.6992, 34.362) radius 1
  circle A7 centre (110.6992, 46.362) radius 1
  point P0 (0, 0)
  dimension "d230" = 2
  dimension "d231" = 2
  dimension "d232" = 2
  dimension "d233" = 2
  dimension "d234" = 2
  dimension "d235" = 2
  dimension "d236" = 2
  dimension "d237" = 2
extrude "押し出し16" cut sketch "スケッチ15" against normal blind 10
properties part number "3枚目"
